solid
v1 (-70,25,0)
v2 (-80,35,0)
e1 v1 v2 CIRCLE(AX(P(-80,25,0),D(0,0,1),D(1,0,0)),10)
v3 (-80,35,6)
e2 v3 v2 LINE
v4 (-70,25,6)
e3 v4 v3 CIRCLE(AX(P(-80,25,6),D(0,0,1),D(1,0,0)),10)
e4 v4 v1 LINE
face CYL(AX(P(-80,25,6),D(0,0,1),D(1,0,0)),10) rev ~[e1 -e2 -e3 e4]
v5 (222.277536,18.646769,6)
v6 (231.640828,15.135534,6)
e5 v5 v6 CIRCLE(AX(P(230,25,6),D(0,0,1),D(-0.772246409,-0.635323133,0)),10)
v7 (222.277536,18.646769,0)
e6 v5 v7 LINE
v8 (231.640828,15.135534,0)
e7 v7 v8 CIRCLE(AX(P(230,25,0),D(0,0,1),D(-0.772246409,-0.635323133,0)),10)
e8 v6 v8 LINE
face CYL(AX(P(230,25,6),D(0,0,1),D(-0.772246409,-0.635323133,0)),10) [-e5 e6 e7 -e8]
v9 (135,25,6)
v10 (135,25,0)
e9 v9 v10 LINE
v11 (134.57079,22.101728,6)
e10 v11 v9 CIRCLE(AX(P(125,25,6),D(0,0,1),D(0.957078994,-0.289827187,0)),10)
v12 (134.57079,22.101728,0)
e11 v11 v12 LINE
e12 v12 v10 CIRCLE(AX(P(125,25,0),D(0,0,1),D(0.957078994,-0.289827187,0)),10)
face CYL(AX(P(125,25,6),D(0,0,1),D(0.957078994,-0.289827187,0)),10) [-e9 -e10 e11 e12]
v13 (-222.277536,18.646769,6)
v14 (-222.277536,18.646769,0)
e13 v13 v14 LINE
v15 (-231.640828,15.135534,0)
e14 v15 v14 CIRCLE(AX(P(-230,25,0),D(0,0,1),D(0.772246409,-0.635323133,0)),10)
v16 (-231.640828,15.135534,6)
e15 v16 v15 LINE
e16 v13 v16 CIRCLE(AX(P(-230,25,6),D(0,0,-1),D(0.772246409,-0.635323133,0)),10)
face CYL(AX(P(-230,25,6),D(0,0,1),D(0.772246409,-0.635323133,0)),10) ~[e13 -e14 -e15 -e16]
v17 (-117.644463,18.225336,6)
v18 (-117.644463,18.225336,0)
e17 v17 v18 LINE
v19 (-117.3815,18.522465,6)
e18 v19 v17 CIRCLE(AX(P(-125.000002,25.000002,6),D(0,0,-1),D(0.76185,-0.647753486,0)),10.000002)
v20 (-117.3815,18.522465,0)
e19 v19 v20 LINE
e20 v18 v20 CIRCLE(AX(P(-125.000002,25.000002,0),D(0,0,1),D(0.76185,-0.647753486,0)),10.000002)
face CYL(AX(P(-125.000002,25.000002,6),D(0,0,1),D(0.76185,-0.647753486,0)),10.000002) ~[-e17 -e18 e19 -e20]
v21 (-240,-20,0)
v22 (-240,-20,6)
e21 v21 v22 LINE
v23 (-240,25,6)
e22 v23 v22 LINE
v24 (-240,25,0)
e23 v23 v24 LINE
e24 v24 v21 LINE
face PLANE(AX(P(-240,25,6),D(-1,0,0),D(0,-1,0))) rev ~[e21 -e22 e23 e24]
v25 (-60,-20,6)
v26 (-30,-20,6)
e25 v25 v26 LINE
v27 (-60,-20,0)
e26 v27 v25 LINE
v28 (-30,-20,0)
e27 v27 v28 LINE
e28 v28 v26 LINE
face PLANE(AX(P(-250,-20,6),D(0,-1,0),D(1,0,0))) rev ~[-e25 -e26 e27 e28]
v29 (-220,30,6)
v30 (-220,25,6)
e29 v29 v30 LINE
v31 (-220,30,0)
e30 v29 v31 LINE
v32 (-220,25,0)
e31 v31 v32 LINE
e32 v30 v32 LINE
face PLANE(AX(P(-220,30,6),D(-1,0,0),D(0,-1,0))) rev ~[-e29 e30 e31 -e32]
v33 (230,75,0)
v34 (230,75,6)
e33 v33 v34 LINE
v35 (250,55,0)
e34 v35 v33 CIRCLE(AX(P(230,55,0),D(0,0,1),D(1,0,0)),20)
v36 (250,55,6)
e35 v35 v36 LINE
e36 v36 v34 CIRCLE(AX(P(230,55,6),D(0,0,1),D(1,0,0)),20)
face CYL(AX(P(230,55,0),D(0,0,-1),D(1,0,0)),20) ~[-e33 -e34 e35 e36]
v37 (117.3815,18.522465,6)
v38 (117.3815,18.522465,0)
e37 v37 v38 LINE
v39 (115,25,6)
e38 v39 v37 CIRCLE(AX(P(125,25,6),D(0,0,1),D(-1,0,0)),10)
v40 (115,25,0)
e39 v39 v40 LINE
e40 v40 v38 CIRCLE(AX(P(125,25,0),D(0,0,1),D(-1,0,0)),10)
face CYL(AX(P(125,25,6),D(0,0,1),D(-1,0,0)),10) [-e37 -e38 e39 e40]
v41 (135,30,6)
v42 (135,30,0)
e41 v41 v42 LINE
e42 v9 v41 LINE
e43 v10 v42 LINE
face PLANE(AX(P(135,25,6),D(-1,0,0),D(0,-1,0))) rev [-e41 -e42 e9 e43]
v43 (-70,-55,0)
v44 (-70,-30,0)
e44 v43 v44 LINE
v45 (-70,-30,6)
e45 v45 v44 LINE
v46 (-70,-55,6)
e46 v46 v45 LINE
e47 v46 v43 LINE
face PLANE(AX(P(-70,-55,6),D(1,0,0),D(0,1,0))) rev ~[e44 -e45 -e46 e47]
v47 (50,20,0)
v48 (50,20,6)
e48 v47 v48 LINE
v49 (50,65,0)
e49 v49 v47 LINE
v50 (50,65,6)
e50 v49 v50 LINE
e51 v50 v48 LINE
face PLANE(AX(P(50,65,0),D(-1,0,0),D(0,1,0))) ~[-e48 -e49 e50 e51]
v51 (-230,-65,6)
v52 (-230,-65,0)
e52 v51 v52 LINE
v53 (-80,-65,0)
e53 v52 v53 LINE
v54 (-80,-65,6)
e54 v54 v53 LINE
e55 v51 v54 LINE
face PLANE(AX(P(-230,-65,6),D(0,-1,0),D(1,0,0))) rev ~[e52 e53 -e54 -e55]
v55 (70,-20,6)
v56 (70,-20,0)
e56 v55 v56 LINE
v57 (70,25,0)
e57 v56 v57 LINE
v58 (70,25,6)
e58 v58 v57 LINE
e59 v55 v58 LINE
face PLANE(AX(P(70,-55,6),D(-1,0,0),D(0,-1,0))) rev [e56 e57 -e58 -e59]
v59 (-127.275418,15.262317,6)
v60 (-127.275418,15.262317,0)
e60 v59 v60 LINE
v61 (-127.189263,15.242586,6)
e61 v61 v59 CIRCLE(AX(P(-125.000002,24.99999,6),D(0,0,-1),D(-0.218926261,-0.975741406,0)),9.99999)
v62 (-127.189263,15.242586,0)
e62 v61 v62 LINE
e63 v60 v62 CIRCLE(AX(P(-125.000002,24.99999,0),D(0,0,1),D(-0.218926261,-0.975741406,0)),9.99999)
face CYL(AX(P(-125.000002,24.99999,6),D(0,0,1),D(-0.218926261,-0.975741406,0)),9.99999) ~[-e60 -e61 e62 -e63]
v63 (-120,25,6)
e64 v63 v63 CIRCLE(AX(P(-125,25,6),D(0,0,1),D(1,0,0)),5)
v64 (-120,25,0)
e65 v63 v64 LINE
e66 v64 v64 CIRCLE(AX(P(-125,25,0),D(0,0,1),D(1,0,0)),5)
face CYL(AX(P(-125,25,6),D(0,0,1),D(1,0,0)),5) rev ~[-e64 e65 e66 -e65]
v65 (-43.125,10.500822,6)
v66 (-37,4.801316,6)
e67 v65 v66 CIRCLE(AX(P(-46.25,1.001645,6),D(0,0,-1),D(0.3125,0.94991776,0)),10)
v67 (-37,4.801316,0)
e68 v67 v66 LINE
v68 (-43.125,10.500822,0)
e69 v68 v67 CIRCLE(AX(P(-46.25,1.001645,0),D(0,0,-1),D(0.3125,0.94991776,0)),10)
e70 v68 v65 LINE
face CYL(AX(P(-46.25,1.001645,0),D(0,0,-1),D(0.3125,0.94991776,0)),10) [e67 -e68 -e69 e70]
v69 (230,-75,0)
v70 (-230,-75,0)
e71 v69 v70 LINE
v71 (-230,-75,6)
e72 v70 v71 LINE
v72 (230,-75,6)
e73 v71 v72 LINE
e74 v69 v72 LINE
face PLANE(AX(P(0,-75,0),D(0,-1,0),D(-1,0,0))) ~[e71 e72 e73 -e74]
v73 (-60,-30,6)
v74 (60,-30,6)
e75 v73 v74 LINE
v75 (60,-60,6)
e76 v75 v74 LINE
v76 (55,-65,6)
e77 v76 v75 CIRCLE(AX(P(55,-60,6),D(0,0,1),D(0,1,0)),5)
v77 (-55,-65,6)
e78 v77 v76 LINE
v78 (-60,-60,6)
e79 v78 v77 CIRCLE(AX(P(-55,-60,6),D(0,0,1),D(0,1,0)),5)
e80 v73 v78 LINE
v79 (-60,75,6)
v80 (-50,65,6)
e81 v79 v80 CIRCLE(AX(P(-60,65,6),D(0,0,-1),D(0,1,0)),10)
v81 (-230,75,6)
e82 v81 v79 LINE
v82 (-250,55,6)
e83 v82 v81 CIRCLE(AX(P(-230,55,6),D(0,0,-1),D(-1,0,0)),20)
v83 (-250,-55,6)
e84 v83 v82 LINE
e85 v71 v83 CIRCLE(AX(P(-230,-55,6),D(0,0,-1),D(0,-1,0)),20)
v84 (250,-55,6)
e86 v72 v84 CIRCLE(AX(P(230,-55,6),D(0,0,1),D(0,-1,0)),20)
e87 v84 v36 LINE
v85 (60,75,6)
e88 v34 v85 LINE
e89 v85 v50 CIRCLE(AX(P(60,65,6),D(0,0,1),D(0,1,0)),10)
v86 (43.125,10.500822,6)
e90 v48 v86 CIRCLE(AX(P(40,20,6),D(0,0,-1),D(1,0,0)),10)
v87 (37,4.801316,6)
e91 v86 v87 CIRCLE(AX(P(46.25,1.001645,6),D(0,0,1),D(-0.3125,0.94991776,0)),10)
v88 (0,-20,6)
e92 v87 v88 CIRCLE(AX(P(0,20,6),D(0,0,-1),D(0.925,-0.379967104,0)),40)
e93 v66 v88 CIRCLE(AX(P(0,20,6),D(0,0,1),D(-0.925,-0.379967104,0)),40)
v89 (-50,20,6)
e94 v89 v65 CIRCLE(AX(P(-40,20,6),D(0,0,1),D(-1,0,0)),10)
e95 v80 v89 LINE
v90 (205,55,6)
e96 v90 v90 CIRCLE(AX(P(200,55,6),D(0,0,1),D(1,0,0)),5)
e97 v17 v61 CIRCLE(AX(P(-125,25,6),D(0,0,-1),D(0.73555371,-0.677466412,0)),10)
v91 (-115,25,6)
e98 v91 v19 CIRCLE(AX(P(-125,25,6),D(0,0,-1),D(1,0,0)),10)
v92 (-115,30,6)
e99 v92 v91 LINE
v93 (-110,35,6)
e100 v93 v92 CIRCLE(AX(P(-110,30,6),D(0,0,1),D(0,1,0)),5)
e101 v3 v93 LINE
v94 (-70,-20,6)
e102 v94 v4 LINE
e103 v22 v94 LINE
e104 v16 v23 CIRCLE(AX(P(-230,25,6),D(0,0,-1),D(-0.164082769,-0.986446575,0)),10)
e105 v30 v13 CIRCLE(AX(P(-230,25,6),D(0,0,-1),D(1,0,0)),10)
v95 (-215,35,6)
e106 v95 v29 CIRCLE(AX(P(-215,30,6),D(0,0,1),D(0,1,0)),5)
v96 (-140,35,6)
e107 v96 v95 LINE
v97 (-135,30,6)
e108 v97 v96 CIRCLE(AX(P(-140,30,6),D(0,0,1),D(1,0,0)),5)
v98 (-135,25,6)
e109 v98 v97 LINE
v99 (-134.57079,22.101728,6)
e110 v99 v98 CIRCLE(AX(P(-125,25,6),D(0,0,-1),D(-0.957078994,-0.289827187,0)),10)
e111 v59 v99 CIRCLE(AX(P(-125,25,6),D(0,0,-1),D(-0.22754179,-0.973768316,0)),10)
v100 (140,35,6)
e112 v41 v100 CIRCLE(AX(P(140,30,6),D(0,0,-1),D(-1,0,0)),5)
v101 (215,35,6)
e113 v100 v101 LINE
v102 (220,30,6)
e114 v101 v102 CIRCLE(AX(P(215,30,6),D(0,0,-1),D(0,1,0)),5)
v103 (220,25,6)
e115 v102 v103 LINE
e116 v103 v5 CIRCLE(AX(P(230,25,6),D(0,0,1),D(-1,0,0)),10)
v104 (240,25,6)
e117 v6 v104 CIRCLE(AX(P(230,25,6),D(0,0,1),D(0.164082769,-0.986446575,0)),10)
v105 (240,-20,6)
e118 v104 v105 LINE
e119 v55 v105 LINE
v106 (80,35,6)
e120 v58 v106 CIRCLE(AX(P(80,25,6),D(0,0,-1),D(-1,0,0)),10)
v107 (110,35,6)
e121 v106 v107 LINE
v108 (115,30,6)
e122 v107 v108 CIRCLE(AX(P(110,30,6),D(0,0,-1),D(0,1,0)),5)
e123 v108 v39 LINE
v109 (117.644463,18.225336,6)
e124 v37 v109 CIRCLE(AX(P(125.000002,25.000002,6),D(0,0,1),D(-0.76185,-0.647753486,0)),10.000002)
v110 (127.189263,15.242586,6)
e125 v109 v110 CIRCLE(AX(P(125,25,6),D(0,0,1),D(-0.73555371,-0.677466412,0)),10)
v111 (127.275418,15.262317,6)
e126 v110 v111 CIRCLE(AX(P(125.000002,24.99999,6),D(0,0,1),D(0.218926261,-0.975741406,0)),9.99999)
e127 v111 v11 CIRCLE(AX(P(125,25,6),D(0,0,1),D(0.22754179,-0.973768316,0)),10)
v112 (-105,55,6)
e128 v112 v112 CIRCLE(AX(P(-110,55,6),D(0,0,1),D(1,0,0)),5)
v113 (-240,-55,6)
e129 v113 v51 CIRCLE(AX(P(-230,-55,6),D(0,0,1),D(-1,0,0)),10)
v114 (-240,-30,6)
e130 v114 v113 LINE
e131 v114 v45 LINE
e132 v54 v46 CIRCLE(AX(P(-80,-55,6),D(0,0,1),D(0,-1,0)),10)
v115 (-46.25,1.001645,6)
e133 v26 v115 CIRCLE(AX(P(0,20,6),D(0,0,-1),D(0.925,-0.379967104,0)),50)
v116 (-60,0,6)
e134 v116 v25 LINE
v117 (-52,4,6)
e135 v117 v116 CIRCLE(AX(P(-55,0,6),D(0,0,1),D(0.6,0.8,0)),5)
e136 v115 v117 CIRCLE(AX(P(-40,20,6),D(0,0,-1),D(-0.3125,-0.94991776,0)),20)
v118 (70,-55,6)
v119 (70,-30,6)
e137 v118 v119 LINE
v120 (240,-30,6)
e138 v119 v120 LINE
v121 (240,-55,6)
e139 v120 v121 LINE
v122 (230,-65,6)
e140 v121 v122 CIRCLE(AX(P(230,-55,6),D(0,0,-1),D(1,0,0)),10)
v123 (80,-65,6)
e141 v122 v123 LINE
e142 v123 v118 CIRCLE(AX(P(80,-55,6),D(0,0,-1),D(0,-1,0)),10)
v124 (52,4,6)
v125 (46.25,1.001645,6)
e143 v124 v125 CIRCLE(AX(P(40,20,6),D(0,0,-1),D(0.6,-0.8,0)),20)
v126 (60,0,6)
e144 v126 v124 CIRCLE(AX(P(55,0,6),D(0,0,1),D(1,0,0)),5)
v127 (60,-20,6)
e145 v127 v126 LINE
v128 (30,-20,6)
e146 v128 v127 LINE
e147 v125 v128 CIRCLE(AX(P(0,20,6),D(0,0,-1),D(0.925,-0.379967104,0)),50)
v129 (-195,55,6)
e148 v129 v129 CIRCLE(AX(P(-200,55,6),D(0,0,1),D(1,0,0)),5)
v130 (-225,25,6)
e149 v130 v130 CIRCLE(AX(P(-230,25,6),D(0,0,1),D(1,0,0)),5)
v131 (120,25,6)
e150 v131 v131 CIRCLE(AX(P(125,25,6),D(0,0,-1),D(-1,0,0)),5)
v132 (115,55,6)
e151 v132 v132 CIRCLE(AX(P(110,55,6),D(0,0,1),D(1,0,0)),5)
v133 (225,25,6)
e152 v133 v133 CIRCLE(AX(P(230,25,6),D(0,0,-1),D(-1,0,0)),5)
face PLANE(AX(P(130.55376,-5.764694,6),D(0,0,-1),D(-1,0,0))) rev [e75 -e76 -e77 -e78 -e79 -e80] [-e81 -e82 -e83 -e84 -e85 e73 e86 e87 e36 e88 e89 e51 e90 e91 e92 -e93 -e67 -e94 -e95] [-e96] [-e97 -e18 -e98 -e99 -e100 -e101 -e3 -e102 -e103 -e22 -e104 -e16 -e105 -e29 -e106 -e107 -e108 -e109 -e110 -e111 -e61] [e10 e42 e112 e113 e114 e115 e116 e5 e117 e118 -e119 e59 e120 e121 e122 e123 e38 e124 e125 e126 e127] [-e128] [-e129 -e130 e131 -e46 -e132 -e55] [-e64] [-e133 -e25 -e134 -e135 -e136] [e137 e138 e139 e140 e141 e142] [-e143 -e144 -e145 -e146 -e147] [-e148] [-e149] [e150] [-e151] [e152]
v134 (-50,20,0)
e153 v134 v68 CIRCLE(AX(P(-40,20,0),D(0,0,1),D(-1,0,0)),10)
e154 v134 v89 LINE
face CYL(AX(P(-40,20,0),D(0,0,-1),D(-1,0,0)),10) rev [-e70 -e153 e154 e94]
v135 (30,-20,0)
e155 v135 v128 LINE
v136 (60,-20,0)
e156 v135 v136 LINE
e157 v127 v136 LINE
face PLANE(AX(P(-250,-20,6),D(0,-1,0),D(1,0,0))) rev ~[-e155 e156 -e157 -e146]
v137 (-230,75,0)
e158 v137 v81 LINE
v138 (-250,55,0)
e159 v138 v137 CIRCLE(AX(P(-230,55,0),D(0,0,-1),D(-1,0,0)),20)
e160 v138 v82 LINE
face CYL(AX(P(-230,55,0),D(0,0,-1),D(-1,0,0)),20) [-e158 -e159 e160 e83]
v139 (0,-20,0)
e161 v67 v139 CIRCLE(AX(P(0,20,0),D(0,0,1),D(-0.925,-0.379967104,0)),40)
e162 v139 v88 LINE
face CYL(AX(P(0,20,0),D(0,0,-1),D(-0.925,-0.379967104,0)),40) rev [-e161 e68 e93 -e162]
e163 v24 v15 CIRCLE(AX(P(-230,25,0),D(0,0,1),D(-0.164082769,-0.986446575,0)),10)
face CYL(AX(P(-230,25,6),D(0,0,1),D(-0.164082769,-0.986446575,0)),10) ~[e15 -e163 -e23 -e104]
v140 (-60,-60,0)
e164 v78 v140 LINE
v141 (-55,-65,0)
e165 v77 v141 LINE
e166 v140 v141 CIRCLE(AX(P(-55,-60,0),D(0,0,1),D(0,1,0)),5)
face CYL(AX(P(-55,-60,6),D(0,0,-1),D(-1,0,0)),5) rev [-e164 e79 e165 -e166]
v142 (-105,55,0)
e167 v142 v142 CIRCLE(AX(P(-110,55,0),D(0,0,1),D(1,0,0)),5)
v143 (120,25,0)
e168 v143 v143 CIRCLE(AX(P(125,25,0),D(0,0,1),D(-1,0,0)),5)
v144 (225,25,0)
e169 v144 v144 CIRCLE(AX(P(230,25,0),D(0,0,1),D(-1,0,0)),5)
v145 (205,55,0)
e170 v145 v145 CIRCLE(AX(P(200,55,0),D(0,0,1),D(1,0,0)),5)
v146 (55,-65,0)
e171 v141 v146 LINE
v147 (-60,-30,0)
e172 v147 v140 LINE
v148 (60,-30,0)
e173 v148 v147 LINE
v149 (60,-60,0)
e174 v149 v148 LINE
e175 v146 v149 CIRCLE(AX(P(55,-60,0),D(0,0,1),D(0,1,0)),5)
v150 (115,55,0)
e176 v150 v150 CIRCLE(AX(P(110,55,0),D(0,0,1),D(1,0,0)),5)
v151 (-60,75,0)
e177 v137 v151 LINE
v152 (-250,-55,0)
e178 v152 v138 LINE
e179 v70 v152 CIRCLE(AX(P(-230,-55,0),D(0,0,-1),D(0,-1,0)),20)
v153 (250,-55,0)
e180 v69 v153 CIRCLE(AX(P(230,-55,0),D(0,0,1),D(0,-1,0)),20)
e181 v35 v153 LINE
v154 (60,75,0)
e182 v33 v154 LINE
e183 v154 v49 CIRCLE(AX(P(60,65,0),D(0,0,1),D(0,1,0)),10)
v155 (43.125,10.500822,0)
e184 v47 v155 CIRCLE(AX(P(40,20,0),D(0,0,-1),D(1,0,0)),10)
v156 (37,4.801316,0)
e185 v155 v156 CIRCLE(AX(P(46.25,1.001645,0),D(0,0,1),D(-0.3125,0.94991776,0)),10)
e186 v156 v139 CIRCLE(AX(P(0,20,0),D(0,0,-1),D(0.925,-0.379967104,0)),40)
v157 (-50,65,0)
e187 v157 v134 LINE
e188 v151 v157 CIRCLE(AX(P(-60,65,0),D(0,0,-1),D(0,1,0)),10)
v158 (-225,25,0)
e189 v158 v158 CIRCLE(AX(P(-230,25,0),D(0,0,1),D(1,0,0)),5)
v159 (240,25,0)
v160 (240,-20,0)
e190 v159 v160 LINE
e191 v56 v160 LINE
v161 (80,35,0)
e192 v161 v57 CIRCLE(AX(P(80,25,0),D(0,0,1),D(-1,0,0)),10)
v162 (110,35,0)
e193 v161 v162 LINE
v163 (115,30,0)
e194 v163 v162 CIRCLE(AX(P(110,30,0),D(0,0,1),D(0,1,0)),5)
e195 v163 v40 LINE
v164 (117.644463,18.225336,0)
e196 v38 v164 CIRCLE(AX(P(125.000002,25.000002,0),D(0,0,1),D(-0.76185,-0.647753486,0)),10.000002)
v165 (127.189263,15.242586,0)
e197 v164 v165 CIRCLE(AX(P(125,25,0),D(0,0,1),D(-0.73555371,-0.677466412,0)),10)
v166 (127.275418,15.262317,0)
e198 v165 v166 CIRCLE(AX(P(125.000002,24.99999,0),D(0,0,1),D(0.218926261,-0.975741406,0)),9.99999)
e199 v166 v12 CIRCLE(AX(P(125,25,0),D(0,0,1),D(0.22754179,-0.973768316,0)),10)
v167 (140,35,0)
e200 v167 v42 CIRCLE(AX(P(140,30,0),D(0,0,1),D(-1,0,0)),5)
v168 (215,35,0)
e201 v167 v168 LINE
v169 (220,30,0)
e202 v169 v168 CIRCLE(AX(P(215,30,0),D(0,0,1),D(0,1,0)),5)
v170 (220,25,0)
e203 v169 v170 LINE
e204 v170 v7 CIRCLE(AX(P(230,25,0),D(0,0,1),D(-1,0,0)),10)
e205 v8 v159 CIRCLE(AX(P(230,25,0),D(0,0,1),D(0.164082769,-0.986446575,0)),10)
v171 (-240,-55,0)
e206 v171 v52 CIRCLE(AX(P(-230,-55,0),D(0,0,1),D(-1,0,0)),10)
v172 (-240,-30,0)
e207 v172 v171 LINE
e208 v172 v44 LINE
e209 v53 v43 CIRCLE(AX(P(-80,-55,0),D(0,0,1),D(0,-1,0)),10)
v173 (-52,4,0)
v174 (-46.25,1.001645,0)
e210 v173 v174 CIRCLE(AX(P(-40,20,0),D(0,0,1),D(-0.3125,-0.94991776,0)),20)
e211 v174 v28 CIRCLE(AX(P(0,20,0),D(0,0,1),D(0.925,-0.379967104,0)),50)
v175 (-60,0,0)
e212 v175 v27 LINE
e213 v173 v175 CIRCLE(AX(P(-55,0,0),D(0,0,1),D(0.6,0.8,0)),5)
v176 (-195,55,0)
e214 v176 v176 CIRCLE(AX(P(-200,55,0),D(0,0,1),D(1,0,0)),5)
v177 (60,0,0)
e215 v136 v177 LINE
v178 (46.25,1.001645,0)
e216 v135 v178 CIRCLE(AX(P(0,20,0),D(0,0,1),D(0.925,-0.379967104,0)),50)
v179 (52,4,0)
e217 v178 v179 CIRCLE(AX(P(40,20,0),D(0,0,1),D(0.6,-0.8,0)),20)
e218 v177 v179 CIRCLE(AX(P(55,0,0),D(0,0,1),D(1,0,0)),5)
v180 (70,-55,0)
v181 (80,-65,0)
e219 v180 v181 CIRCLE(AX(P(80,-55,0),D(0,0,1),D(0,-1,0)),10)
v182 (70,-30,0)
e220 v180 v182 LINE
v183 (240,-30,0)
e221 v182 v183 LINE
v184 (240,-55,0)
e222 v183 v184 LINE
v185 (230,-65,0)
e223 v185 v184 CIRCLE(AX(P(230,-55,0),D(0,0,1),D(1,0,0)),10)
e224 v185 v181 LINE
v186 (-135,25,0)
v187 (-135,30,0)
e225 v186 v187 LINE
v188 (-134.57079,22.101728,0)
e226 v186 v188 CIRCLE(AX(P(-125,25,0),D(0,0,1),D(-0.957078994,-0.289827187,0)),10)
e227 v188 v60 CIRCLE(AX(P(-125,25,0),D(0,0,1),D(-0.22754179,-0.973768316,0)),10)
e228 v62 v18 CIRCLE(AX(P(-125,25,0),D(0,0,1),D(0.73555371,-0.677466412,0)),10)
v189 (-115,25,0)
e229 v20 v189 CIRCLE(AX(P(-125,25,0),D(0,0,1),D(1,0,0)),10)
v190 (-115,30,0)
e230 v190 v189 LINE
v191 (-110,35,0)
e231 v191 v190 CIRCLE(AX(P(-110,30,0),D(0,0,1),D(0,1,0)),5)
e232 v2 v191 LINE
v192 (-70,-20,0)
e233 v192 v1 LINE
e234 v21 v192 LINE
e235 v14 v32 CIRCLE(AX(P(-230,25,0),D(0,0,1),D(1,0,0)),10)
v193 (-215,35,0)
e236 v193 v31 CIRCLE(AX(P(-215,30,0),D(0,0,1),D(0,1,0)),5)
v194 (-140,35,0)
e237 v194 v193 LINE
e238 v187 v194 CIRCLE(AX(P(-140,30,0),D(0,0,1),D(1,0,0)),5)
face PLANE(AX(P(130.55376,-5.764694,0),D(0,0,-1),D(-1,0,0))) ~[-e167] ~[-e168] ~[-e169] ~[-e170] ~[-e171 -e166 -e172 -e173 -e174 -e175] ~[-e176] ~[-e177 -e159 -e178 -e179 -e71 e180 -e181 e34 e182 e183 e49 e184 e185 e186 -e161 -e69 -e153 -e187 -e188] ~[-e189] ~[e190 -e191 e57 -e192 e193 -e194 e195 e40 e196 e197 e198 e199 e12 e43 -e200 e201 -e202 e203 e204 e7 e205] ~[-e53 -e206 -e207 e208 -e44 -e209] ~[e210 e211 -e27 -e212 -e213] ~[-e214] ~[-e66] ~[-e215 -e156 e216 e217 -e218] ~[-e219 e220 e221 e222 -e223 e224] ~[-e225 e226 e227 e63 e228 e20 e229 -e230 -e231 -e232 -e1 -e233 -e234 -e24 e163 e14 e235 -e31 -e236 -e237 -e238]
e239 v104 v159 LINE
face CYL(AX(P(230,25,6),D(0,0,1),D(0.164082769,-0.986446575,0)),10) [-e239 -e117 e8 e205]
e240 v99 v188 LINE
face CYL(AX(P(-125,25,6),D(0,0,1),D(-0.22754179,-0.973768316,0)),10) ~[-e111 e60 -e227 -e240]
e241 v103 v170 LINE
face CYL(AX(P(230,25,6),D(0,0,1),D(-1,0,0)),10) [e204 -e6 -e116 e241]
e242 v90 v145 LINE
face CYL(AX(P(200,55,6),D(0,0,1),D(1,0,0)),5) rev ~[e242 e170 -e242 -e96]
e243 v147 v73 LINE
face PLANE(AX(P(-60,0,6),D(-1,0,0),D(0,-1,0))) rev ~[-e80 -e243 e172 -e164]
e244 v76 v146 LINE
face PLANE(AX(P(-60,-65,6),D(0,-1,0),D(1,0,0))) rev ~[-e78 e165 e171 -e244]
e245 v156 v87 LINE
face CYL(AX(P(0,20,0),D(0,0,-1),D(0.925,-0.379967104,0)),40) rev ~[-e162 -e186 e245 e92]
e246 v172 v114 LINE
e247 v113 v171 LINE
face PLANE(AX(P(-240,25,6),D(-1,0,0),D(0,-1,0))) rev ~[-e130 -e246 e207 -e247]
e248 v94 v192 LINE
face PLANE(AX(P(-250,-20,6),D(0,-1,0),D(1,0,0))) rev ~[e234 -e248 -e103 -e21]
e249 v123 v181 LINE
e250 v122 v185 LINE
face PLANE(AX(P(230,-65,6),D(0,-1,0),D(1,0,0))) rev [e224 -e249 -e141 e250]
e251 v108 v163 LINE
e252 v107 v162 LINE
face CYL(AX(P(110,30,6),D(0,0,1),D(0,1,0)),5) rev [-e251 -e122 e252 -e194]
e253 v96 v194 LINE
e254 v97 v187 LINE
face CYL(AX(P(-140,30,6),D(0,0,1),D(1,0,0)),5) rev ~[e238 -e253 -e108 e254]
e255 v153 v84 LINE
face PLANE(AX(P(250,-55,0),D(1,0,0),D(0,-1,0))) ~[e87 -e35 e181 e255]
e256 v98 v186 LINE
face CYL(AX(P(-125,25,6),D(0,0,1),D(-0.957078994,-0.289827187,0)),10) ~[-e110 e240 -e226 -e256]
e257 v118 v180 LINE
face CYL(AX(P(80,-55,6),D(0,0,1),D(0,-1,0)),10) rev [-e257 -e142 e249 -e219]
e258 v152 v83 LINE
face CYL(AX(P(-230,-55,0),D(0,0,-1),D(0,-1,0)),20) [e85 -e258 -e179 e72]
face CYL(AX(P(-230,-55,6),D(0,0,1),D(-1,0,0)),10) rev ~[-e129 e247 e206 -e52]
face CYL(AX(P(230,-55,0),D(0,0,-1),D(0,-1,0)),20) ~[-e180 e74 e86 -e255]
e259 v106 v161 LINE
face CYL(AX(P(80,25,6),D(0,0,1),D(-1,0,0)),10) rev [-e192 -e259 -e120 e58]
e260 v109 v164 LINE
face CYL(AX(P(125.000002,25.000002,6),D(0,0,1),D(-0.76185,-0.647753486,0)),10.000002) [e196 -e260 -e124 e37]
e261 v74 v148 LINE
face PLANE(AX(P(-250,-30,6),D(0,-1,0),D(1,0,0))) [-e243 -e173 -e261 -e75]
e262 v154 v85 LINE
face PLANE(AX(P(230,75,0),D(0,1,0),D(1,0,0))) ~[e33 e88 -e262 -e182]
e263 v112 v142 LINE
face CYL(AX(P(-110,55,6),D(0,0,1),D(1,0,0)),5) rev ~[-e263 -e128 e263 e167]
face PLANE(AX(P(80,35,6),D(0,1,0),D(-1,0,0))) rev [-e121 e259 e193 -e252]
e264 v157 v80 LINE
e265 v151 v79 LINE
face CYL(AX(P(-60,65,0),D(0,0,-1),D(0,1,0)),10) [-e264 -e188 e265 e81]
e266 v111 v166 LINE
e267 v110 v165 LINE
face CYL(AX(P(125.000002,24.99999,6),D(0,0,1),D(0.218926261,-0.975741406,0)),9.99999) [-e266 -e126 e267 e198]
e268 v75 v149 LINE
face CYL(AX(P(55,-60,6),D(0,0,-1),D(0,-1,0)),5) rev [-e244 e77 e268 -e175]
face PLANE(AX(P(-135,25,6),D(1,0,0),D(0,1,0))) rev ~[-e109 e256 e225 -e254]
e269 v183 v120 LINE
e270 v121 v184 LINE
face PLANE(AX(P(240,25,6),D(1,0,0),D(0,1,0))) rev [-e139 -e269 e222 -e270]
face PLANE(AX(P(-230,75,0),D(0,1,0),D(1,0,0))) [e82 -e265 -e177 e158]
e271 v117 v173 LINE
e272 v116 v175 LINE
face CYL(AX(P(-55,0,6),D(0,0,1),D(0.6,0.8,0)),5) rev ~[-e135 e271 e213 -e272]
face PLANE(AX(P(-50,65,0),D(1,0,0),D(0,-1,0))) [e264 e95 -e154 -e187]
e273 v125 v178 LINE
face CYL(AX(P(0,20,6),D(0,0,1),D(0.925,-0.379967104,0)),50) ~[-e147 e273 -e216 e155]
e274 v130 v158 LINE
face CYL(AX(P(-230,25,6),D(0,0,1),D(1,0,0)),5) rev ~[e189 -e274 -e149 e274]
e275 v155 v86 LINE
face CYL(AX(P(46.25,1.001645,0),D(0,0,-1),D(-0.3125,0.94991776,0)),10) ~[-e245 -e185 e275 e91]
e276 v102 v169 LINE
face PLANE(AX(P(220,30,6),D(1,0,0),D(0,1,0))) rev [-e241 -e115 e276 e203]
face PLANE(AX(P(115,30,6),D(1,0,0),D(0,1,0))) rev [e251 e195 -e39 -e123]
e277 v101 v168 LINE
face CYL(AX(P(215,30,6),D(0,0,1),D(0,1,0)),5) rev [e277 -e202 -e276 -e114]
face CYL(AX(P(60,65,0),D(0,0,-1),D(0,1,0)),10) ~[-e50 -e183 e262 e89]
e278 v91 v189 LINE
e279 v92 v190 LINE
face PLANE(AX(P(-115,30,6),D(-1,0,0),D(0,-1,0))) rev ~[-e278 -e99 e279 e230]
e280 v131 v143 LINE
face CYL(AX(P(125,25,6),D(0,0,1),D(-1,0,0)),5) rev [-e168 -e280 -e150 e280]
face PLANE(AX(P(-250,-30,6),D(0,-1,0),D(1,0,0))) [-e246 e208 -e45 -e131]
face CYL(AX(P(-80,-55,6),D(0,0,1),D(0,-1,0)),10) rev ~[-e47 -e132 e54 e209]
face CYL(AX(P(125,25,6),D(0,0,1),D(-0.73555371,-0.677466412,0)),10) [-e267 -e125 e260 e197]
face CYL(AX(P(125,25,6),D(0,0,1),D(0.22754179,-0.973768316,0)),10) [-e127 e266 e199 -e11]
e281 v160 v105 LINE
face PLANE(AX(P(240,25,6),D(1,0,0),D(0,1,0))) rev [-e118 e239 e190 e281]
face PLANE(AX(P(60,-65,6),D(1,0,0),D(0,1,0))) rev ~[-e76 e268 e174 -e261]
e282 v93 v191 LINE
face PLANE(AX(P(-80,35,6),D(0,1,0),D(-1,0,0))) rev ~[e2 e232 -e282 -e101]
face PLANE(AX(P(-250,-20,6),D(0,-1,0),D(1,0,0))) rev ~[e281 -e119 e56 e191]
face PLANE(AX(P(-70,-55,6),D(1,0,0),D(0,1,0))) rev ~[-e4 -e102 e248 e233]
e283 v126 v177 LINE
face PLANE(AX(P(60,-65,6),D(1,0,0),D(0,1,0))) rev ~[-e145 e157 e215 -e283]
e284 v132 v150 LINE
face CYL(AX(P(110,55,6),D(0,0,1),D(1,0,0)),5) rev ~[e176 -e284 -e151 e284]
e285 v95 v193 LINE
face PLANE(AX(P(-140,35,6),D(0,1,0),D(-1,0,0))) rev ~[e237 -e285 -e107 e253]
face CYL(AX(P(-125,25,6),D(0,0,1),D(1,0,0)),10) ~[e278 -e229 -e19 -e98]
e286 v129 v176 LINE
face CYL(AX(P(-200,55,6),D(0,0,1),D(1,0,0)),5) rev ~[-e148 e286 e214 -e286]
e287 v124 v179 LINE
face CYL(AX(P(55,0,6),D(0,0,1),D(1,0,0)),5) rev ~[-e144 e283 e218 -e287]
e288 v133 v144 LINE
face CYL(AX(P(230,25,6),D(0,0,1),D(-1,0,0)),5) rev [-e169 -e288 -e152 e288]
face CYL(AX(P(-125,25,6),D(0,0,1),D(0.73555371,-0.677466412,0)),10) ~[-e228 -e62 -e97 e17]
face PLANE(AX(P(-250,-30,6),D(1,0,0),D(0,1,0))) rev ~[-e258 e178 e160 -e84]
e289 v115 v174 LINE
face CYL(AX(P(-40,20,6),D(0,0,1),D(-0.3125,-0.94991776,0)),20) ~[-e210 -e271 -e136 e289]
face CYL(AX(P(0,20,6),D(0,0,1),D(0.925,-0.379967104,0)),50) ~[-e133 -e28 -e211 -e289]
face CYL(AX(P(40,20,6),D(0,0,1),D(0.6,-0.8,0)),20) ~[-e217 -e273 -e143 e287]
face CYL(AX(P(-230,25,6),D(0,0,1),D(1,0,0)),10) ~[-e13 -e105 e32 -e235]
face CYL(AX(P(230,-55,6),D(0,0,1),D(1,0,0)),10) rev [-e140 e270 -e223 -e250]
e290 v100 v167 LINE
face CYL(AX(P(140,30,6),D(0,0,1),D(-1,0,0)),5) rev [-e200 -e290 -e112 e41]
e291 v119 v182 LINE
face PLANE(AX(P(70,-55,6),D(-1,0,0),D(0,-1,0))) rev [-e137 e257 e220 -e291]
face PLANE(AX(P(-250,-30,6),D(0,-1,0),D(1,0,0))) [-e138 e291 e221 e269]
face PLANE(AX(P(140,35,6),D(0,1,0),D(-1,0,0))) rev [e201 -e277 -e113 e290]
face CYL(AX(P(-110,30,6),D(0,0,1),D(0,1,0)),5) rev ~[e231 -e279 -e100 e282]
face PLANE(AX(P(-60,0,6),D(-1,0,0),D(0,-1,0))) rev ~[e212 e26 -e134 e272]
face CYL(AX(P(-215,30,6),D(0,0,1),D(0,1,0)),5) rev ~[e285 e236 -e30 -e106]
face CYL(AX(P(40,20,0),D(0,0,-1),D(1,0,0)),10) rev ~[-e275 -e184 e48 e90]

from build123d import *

# Parameters (mm, degrees)
BOSS_EXTRUDE1_DEPTH = 6
SKETCH3_R           = 5
CUT_EXTRUDE1_DEPTH  = 262.076617107
SKETCH4_R           = 5
CUT_EXTRUDE2_DEPTH  = 262.076617107
CUT_EXTRUDE5_DEPTH  = 262.076617107
FILLET5_R           = 5
FILLET6_R           = 5
SKETCH9_W           = 500
SKETCH9_H           = 10
BOSS_EXTRUDE2_DEPTH = 6


with BuildPart() as part:
    # Sketch1 → Boss-Extrude1 (new body)
    with BuildSketch(Plane.XY):
        with BuildLine():
            Line((-250, -55), (-250, 3.178280867))
            Line((-250, 3.178280867), (-250, 55))
            ThreePointArc((-250, 55), (-244.142135624, 69.142135624), (-230, 75))
            Line((-230, 75), (-220, 75))
            Line((-220, 75), (-164.330865428, 75))
            Line((-164.330865428, 75), (-60, 75))
            ThreePointArc((-60, 75), (-52.928932188, 72.071067812), (-50, 65))
            Line((-50, 65), (-50, 20))
            ThreePointArc((-50, 20), (-48.100925873, 14.1369803), (-43.125, 10.500822404))
            ThreePointArc((-43.125, 10.500822404), (-39.437786703, 8.32242004), (-37, 4.801315846))
            ThreePointArc((-37, 4.801315846), (-22.271648276, -13.226099426), (0, -20))
            Line((0, -20), (0, -40))
            Line((0, -40), (0, -65))
            Line((0, -65), (0, -75))
            Line((0, -75), (-230, -75))
            ThreePointArc((-230, -75), (-244.142135624, -69.142135624), (-250, -55))
        make_face()
    boss_extrude1 = extrude(amount=BOSS_EXTRUDE1_DEPTH)

    # Mirror1: Boss-Extrude1 across plane
    add(boss_extrude1.mirror(Plane(origin=(0, -20, 6), x_dir=(0, 0, 1), z_dir=(-1, 0, 0))))

    # Sketch3 → Cut-Extrude1 (cut, through all)
    with BuildSketch(Plane.XY.offset(6)):
        with Locations((110, 55)):
            Circle(SKETCH3_R)
        with Locations((200, 55)):
            Circle(SKETCH3_R)
        with Locations((-110, 55)):
            Circle(SKETCH3_R)
        with Locations((-200, 55)):
            Circle(SKETCH3_R)
    extrude(amount=-CUT_EXTRUDE1_DEPTH, mode=Mode.SUBTRACT)

    # Sketch4 → Cut-Extrude2 (cut, through all)
    with BuildSketch(Plane.XY.offset(6)):
        with BuildLine():
            Line((-70, -55), (-70, 25))
            ThreePointArc((-70, 25), (-72.928932188, 32.071067812), (-80, 35))
            Line((-80, 35), (-110, 35))
            ThreePointArc((-110, 35), (-113.535533906, 33.535533906), (-115, 30))
            Line((-115, 30), (-115, 25))
            ThreePointArc((-115, 25), (-115.614239502, 21.549275456), (-117.381499976, 18.522465177))
            ThreePointArc((-117.381499976, 18.522465177), (-117.5115076, 18.372596167), (-117.644462896, 18.225335882))
            ThreePointArc((-117.644462896, 18.225335882), (-122.017250069, 15.45520022), (-127.189262676, 15.242585951))
            ThreePointArc((-127.189262676, 15.242585951), (-127.232362089, 15.252356208), (-127.275417902, 15.262316838))
            ThreePointArc((-127.275417902, 15.262316838), (-131.839411289, 17.704627959), (-134.570789944, 22.101728126))
            ThreePointArc((-134.570789944, 22.101728126), (-134.892115533, 23.535059632), (-135, 25))
            Line((-135, 25), (-135, 30))
            ThreePointArc((-135, 30), (-136.464466094, 33.535533906), (-140, 35))
            Line((-140, 35), (-215, 35))
            ThreePointArc((-215, 35), (-218.535533906, 33.535533906), (-220, 30))
            Line((-220, 30), (-220, 25))
            ThreePointArc((-220, 25), (-220.586588267, 21.625436392), (-222.277535909, 18.646768667))
            ThreePointArc((-222.277535909, 18.646768667), (-226.488765584, 15.636708224), (-231.640827685, 15.135534251))
            ThreePointArc((-231.640827685, 15.135534251), (-237.629163678, 18.535028107), (-240, 25))
            Line((-240, 25), (-240, -55))
            ThreePointArc((-240, -55), (-237.071067812, -62.071067812), (-230, -65))
            Line((-230, -65), (-210, -65))
            Line((-210, -65), (-190, -65))
            Line((-190, -65), (-110, -65))
            Line((-110, -65), (-90, -65))
            Line((-90, -65), (-80, -65))
            ThreePointArc((-80, -65), (-72.928932188, -62.071067812), (-70, -55))
        make_face()
        with Locations((-230, 25)):
            Circle(SKETCH4_R)
        with Locations((-125, 25)):
            Circle(SKETCH4_R)
    cut_extrude2 = extrude(amount=-CUT_EXTRUDE2_DEPTH, mode=Mode.SUBTRACT)

    # Sketch8 → Cut-Extrude5 (cut, through all)
    with BuildSketch(Plane.XY.offset(6)):
        with BuildLine():
            Line((-60, 0), (-60, -65))
            Line((-60, -65), (60, -65))
            Line((60, -65), (60, 0))
            ThreePointArc((60, 0), (57.236067977, 4.472135955), (52, 4))
            ThreePointArc((52, 4), (49.247332505, 2.266223145), (46.25, 1.001644808))
            ThreePointArc((46.25, 1.001644808), (0, -30), (-46.25, 1.001644808))
            ThreePointArc((-46.25, 1.001644808), (-49.247332505, 2.266223145), (-52, 4))
            ThreePointArc((-52, 4), (-57.236067977, 4.472135955), (-60, 0))
        make_face()
    extrude(amount=-CUT_EXTRUDE5_DEPTH, mode=Mode.SUBTRACT)

    # Fillet5
    fillet5_edges = [part.edges().sort_by_distance(p)[0] for p in [
        (-60, -65, 3),
    ]]
    fillet(fillet5_edges, radius=FILLET5_R)

    # Fillet6
    fillet6_edges = [part.edges().sort_by_distance(p)[0] for p in [
        (60, -65, 3),
    ]]
    fillet(fillet6_edges, radius=FILLET6_R)

    # Mirror2: Cut-Extrude2 across plane
    add(cut_extrude2.mirror(Plane(origin=(0, 0, 0), x_dir=(0, 0, 1), z_dir=(1, 0, 0))), mode=Mode.SUBTRACT)

    # Sketch9 → Boss-Extrude2 (add)
    with BuildSketch(Plane.XY.offset(6)):
        with Locations((0, -25)):
            Rectangle(SKETCH9_W, SKETCH9_H)
    extrude(amount=-BOSS_EXTRUDE2_DEPTH)


solid = part.part
